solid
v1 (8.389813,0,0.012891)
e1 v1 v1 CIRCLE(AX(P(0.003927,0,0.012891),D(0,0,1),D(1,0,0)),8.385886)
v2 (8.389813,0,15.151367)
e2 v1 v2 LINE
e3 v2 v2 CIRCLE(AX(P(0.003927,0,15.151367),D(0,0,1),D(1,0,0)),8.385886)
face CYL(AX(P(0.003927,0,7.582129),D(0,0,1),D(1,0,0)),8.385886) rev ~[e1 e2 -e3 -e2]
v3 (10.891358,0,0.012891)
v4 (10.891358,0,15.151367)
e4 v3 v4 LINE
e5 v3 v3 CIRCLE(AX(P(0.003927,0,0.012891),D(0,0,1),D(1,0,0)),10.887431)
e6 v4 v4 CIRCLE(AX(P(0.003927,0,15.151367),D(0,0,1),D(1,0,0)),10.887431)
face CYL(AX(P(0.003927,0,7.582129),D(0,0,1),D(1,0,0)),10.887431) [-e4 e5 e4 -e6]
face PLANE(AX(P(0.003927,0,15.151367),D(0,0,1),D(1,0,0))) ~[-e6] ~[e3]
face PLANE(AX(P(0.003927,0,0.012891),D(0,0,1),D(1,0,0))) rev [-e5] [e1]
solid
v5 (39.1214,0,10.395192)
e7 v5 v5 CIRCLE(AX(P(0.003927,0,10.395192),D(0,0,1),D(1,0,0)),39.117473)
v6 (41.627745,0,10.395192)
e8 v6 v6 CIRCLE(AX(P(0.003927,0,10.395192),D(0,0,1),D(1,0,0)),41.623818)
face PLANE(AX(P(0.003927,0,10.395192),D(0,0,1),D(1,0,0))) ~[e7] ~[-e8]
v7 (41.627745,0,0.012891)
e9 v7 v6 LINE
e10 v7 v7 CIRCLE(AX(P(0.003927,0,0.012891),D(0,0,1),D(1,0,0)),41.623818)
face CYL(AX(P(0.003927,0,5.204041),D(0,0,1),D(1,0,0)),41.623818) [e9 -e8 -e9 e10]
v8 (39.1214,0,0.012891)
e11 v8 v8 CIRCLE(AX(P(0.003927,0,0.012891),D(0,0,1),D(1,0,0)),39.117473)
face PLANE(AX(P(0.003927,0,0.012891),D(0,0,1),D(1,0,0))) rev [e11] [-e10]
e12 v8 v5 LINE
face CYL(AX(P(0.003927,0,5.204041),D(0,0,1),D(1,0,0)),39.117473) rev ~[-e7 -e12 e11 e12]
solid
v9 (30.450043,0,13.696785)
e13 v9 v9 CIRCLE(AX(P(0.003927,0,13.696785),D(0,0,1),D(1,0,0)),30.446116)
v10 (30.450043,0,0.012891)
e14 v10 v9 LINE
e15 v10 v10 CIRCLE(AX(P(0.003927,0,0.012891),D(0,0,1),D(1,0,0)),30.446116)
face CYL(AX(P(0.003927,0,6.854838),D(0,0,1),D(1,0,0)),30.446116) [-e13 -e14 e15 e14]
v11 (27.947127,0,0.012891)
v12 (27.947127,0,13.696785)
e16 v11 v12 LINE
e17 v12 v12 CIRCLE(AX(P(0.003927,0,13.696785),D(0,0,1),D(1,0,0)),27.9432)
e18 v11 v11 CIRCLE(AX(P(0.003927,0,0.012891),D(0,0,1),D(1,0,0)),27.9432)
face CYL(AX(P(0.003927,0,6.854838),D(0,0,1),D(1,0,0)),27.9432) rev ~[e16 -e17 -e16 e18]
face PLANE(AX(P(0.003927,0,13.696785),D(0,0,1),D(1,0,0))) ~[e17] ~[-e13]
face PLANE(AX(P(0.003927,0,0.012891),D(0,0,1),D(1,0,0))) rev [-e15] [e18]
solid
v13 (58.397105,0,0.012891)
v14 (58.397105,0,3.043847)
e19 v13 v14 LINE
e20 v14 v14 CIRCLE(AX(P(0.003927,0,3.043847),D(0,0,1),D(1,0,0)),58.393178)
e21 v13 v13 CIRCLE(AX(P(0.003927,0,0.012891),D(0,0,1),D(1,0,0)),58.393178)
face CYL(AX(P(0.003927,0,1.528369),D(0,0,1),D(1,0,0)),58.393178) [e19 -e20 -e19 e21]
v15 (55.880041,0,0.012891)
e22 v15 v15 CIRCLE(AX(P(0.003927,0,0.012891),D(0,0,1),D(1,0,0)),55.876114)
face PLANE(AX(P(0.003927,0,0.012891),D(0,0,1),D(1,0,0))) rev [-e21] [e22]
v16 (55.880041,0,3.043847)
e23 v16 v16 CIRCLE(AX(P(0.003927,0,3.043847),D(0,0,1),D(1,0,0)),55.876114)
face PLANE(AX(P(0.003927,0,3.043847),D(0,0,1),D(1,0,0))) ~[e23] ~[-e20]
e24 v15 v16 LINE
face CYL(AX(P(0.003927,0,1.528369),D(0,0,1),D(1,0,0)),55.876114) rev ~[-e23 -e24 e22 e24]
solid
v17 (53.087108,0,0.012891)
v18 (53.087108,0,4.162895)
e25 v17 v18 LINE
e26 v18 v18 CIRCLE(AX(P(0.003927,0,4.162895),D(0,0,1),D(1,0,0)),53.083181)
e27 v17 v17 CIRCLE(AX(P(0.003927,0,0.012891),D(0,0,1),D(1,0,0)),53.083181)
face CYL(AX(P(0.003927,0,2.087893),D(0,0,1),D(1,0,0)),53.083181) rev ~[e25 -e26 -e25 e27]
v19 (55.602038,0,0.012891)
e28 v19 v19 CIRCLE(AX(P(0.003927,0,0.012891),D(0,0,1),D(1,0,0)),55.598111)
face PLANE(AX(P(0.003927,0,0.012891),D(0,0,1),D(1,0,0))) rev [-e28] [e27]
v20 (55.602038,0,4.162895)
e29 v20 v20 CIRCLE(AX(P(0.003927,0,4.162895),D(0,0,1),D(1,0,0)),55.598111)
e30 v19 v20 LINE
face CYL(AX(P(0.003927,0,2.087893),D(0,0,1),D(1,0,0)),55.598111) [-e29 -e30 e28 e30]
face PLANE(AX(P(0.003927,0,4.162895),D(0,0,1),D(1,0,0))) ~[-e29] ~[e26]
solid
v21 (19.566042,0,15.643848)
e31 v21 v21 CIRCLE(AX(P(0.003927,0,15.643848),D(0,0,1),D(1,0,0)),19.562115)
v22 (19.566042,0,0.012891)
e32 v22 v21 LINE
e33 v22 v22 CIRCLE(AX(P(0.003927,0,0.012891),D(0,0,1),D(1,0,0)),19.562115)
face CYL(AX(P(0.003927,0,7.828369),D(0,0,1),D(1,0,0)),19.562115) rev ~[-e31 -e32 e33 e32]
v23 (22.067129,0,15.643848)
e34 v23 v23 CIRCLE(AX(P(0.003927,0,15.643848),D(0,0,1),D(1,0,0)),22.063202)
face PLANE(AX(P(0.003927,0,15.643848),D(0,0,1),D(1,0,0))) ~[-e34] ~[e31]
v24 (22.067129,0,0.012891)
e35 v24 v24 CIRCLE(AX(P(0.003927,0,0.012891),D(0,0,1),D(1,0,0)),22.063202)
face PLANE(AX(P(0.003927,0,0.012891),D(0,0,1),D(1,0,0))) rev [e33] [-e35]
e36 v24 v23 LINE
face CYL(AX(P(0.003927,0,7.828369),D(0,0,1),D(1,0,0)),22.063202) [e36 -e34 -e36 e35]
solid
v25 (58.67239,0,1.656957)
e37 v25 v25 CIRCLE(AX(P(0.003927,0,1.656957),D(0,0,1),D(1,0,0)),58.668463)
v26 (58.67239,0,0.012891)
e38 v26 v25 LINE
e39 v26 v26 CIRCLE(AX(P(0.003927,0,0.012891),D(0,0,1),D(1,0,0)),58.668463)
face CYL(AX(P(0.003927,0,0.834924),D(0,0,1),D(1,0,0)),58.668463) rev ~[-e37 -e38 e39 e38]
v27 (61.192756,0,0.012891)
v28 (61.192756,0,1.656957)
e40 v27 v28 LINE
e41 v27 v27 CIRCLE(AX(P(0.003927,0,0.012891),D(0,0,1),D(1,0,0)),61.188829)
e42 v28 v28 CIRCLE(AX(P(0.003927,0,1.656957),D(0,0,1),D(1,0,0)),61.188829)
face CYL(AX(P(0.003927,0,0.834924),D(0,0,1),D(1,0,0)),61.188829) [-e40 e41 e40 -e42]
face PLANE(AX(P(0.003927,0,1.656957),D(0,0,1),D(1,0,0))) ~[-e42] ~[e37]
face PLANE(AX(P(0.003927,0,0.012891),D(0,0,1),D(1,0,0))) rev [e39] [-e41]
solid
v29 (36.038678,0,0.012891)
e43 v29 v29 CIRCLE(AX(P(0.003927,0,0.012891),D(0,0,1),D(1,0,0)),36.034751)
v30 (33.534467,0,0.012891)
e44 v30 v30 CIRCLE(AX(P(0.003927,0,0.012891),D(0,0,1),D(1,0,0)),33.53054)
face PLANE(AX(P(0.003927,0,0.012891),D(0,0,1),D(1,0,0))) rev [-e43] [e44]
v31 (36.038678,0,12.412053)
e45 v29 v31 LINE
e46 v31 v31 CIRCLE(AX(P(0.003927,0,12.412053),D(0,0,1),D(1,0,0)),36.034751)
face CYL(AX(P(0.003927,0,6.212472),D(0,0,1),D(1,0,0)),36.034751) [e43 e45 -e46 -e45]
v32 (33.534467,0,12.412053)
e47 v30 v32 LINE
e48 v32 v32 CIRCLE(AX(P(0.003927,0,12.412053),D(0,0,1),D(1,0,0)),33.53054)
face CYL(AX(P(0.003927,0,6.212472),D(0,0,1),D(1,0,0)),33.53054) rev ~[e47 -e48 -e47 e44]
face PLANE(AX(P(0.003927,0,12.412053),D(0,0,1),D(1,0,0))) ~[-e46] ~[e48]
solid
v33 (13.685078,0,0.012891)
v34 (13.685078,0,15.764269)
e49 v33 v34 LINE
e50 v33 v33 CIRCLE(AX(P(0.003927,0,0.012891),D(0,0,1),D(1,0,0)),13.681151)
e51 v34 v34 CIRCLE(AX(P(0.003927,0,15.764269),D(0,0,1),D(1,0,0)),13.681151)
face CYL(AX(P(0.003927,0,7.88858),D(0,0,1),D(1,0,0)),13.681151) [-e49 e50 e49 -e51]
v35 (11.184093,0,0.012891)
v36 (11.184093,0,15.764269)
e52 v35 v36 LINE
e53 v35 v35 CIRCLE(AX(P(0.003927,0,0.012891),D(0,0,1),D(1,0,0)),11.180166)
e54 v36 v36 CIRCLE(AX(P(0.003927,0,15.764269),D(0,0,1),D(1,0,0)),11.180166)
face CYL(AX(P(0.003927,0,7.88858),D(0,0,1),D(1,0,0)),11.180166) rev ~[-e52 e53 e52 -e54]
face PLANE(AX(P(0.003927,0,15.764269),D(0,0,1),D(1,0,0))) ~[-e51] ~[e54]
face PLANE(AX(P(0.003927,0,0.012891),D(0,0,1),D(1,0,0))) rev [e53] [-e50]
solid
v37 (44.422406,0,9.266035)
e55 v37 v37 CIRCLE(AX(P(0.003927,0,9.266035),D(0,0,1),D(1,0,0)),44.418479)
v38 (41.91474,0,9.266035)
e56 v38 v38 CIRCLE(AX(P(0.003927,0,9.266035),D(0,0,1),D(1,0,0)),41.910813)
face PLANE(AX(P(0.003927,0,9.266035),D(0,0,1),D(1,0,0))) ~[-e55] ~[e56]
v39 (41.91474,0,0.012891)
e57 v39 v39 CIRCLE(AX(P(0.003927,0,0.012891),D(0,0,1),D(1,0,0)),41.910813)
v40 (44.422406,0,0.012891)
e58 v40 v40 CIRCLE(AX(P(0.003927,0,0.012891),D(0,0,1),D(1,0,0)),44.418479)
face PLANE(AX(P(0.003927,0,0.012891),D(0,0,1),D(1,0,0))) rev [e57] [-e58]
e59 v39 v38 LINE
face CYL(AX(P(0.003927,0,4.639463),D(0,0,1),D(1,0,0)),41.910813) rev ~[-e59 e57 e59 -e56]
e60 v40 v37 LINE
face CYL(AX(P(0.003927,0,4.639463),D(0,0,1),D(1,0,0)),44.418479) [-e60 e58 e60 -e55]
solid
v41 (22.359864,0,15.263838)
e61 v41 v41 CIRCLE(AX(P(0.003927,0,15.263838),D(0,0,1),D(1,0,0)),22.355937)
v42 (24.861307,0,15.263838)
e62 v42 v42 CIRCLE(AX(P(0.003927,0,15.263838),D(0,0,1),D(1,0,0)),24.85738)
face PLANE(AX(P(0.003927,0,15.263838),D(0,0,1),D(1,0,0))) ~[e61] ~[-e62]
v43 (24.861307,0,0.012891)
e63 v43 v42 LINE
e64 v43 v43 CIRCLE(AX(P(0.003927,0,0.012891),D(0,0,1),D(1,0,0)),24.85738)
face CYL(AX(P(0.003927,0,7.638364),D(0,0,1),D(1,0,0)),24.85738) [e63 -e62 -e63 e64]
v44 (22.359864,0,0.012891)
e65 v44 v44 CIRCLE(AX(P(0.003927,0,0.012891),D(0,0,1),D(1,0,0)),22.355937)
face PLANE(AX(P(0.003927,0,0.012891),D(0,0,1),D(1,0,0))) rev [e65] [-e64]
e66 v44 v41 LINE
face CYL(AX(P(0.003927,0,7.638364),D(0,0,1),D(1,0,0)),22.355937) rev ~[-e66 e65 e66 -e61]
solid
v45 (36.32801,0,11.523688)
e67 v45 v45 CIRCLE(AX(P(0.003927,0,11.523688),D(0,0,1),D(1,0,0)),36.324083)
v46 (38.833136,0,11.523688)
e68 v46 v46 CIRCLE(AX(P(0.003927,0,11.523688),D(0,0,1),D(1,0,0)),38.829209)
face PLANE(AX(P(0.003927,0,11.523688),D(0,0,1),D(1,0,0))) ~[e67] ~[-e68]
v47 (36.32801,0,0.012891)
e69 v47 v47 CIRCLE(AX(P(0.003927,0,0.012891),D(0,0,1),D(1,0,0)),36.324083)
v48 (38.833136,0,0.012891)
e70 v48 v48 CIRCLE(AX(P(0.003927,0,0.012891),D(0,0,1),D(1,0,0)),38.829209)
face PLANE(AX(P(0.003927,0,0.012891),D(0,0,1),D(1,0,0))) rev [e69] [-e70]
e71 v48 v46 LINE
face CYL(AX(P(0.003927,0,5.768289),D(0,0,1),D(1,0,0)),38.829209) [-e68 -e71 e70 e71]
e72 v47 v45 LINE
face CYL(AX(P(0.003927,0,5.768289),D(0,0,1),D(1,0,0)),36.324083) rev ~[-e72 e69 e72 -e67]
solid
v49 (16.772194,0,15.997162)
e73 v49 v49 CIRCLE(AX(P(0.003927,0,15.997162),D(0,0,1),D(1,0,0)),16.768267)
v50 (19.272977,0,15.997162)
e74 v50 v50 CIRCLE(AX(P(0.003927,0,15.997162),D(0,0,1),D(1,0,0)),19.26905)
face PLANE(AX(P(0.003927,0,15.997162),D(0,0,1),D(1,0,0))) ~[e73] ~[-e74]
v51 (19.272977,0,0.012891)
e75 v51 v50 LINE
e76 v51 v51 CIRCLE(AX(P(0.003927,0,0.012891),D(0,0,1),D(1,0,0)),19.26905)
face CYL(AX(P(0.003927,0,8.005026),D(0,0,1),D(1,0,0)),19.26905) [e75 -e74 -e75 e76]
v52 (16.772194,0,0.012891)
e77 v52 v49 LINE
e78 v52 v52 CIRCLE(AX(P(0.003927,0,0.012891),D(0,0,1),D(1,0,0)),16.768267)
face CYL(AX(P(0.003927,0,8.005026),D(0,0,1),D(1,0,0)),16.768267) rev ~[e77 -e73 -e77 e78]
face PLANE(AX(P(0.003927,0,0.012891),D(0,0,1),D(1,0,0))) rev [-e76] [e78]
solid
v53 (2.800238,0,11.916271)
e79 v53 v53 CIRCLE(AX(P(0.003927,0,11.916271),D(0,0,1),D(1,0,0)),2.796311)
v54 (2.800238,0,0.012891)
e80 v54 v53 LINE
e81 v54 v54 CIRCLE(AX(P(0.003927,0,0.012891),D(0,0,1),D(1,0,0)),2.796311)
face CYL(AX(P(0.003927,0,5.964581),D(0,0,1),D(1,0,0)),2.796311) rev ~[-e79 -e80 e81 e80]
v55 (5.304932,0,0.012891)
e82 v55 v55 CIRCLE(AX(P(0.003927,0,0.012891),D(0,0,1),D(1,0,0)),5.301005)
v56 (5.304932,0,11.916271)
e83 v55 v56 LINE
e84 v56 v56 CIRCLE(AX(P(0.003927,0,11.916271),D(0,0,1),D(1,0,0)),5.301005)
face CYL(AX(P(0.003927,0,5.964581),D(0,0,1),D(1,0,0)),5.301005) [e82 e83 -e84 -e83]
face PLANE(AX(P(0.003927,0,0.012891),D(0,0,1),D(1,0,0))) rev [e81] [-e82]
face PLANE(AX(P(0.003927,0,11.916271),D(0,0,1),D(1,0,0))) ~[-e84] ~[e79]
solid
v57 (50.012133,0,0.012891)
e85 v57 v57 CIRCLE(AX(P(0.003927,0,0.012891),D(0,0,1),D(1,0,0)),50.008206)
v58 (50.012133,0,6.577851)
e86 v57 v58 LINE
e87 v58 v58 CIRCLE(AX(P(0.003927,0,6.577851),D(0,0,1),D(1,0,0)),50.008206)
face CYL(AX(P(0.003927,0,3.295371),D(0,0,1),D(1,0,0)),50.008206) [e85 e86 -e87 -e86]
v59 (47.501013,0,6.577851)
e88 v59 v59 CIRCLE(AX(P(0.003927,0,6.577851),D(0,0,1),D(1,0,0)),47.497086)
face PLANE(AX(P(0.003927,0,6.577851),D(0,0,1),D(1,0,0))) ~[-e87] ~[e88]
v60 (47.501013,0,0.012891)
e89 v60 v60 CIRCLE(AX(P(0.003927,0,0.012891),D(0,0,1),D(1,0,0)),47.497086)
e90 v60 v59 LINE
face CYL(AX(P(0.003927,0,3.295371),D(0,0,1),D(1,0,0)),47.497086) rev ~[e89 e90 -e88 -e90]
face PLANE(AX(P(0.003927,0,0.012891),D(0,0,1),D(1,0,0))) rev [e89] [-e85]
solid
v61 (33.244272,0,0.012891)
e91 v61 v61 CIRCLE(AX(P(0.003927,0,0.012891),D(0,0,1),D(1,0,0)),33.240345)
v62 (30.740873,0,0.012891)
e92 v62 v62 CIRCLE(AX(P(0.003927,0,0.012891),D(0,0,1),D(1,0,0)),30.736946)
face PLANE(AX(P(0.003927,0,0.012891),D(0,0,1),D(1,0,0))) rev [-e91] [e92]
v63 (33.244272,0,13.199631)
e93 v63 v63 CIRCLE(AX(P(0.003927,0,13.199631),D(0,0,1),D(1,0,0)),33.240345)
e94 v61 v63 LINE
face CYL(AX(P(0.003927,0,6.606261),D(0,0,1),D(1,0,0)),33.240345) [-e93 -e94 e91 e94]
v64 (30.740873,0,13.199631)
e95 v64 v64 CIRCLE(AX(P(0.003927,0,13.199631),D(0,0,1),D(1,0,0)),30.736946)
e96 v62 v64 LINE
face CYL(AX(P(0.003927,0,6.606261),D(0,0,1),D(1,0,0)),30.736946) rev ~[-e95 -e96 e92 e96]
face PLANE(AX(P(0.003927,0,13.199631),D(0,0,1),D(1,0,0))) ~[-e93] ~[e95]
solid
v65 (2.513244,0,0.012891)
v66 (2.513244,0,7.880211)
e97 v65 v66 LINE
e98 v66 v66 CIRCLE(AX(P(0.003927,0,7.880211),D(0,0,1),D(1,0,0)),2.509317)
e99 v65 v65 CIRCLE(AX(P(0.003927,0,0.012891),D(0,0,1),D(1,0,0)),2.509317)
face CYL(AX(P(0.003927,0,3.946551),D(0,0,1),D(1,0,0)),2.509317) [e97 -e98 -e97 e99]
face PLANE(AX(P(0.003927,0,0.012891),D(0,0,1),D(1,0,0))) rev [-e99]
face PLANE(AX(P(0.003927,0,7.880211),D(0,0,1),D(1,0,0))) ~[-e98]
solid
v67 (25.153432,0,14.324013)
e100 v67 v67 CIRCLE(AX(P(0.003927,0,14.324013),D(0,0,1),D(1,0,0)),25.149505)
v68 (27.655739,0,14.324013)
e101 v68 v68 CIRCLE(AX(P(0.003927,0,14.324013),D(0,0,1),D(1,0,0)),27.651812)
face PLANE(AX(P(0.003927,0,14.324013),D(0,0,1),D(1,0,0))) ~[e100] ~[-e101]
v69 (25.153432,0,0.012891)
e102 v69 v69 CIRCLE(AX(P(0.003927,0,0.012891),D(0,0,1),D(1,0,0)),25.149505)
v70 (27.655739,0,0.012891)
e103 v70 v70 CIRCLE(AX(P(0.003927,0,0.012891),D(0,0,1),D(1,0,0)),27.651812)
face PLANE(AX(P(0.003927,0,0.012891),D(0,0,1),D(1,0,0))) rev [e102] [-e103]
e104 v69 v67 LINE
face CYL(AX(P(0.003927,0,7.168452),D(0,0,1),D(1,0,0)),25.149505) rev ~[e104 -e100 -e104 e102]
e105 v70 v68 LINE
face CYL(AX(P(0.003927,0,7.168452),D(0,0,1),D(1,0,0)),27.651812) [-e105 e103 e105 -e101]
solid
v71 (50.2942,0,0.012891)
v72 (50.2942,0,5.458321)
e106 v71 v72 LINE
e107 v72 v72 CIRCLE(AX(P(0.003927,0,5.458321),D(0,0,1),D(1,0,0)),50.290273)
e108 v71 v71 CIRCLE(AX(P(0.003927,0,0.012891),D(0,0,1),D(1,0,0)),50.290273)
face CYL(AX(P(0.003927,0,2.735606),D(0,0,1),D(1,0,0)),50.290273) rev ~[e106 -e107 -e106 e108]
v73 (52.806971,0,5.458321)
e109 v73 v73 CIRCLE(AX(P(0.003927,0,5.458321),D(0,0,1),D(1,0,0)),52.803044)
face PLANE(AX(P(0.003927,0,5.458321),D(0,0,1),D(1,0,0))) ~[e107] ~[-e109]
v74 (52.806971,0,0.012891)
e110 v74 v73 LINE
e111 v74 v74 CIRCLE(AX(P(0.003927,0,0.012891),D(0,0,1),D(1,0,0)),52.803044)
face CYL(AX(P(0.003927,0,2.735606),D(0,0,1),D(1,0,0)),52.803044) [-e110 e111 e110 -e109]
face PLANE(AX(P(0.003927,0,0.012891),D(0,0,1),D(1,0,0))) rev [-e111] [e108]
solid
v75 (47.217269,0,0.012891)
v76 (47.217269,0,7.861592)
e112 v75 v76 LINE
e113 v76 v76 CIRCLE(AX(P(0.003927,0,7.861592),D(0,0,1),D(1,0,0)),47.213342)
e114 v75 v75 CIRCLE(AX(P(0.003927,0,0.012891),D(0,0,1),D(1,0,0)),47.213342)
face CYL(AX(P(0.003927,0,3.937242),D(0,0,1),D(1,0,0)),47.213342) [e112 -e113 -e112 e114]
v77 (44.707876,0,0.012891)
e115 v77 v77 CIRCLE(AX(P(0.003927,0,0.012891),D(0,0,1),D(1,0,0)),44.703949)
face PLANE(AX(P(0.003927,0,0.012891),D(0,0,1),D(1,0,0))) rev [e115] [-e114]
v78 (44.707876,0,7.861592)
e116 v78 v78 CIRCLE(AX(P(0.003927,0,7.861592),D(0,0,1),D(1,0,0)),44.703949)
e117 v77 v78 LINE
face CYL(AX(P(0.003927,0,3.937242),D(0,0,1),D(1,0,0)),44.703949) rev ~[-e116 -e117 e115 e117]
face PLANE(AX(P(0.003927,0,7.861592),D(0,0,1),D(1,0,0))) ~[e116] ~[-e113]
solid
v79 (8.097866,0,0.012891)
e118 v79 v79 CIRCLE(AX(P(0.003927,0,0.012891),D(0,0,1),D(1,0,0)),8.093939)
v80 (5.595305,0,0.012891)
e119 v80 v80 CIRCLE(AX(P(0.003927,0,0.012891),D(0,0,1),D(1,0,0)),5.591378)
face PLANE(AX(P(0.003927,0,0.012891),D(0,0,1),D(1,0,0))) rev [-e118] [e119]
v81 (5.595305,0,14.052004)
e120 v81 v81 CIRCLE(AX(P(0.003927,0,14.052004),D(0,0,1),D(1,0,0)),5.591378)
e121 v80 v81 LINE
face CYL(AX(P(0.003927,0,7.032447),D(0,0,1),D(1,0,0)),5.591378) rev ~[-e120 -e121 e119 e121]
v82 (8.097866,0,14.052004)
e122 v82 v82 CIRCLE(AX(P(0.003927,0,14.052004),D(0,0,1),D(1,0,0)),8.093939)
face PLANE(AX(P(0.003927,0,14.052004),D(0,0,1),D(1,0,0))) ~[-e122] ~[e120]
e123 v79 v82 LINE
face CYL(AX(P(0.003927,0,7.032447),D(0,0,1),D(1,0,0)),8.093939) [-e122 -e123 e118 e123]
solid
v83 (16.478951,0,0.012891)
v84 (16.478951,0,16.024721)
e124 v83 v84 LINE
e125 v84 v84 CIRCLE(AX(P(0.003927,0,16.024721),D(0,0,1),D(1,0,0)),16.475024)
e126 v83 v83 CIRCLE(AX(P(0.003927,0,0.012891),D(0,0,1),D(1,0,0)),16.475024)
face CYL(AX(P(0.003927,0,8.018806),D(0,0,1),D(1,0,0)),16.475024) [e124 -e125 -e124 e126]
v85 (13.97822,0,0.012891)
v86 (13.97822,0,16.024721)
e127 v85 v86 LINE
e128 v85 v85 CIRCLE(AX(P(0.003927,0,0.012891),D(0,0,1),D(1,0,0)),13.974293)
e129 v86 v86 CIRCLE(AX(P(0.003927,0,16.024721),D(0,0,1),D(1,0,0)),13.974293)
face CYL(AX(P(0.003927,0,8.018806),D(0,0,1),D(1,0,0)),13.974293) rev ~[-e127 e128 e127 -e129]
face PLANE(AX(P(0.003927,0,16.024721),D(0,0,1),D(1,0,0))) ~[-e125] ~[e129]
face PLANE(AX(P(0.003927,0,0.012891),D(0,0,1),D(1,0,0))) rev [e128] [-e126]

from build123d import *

# Parameters (mm, degrees)
F0_W    = 2.5093168
F0_H    = 7.8673198
F0_W_2  = 2.504694
F0_H_2  = 11.9033798
F0_W_3  = 2.5025604
F0_H_3  = 14.0391134
F0_W_4  = 2.5015444
F0_H_4  = 15.1384762
F0_W_5  = 2.5009856
F0_H_5  = 15.7513782
F0_W_6  = 2.5007316
F0_H_6  = 16.0118298
F0_W_7  = 2.5007824
F0_H_7  = 15.9842708
F0_W_8  = 2.5010872
F0_H_8  = 15.6309568
F0_W_9  = 2.5014428
F0_H_9  = 15.2509474
F0_W_10 = 2.5023064
F0_H_10 = 14.311122
F0_W_11 = 2.502916
F0_H_11 = 13.6838944
F0_W_12 = 2.5033986
F0_H_12 = 13.1867402
F0_W_13 = 2.5042114
F0_H_13 = 12.3991624
F0_W_14 = 2.5051258
F0_H_14 = 11.5107974
F0_W_15 = 2.506345
F0_H_15 = 10.3823008
F0_W_16 = 2.5076658
F0_H_16 = 9.2531438
F0_W_17 = 2.509393
F0_H_17 = 7.8487016
F0_W_18 = 2.5111202
F0_H_18 = 6.5649602
F0_W_19 = 2.5127712
F0_H_19 = 5.4454298
F0_W_20 = 2.5149302
F0_H_20 = 4.1500044
F0_W_21 = 2.5170638
F0_H_21 = 3.0309566
F0_W_22 = 2.5203658
F0_H_22 = 1.6440658


with BuildPart() as f1:
    # F0 (on Front) → F1 (revolve)
    with BuildSketch(Plane.XZ):
        with Locations((1.2585853584, 3.9465506561)):
            Rectangle(F0_W, F0_H)
    revolve(axis=Axis((0.0039269584, 0, 14.6686907561), (0, 0, 1)))


with BuildPart() as f1b:
    # F0 (on Front) → F1, piece 2 (revolve)
    with BuildSketch(Plane.XZ):
        with Locations((4.0525853584, 5.9645806561)):
            Rectangle(F0_W_2, F0_H_2)
    revolve(axis=Axis((0.0039269584, 0, 14.6686907561), (0, 0, 1)))


with BuildPart() as f1c:
    # F0 (on Front) → F1, piece 3 (revolve)
    with BuildSketch(Plane.XZ):
        with Locations((6.8465853584, 7.0324474561)):
            Rectangle(F0_W_3, F0_H_3)
    revolve(axis=Axis((0.0039269584, 0, 14.6686907561), (0, 0, 1)))


with BuildPart() as f1d:
    # F0 (on Front) → F1, piece 4 (revolve)
    with BuildSketch(Plane.XZ):
        with Locations((9.6405853584, 7.5821288561)):
            Rectangle(F0_W_4, F0_H_4)
    revolve(axis=Axis((0.0039269584, 0, 14.6686907561), (0, 0, 1)))


with BuildPart() as f1e:
    # F0 (on Front) → F1, piece 5 (revolve)
    with BuildSketch(Plane.XZ):
        with Locations((12.4345853584, 7.8885798561)):
            Rectangle(F0_W_5, F0_H_5)
    revolve(axis=Axis((0.0039269584, 0, 14.6686907561), (0, 0, 1)))


with BuildPart() as f1f:
    # F0 (on Front) → F1, piece 6 (revolve)
    with BuildSketch(Plane.XZ):
        with Locations((15.2285853584, 8.0188056561)):
            Rectangle(F0_W_6, F0_H_6)
    revolve(axis=Axis((0.0039269584, 0, 14.6686907561), (0, 0, 1)))


with BuildPart() as f1g:
    # F0 (on Front) → F1, piece 7 (revolve)
    with BuildSketch(Plane.XZ):
        with Locations((18.0225853584, 8.0050261561)):
            Rectangle(F0_W_7, F0_H_7)
    revolve(axis=Axis((0.0039269584, 0, 14.6686907561), (0, 0, 1)))


with BuildPart() as f1h:
    # F0 (on Front) → F1, piece 8 (revolve)
    with BuildSketch(Plane.XZ):
        with Locations((20.8165853584, 7.8283691561)):
            Rectangle(F0_W_8, F0_H_8)
    revolve(axis=Axis((0.0039269584, 0, 14.6686907561), (0, 0, 1)))


with BuildPart() as f1i:
    # F0 (on Front) → F1, piece 9 (revolve)
    with BuildSketch(Plane.XZ):
        with Locations((23.6105853584, 7.6383644561)):
            Rectangle(F0_W_9, F0_H_9)
    revolve(axis=Axis((0.0039269584, 0, 14.6686907561), (0, 0, 1)))


with BuildPart() as f1j:
    # F0 (on Front) → F1, piece 10 (revolve)
    with BuildSketch(Plane.XZ):
        with Locations((26.4045853584, 7.1684517561)):
            Rectangle(F0_W_10, F0_H_10)
    revolve(axis=Axis((0.0039269584, 0, 14.6686907561), (0, 0, 1)))


with BuildPart() as f1k:
    # F0 (on Front) → F1, piece 11 (revolve)
    with BuildSketch(Plane.XZ):
        with Locations((29.1985853584, 6.8548379561)):
            Rectangle(F0_W_11, F0_H_11)
    revolve(axis=Axis((0.0039269584, 0, 14.6686907561), (0, 0, 1)))


with BuildPart() as f1l:
    # F0 (on Front) → F1, piece 12 (revolve)
    with BuildSketch(Plane.XZ):
        with Locations((31.9925726584, 6.6062608561)):
            Rectangle(F0_W_12, F0_H_12)
    revolve(axis=Axis((0.0039269584, 0, 14.6686907561), (0, 0, 1)))


with BuildPart() as f1m:
    # F0 (on Front) → F1, piece 13 (revolve)
    with BuildSketch(Plane.XZ):
        with Locations((34.7865726584, 6.2124719561)):
            Rectangle(F0_W_13, F0_H_13)
    revolve(axis=Axis((0.0039269584, 0, 14.6686907561), (0, 0, 1)))


with BuildPart() as f1n:
    # F0 (on Front) → F1, piece 14 (revolve)
    with BuildSketch(Plane.XZ):
        with Locations((37.5805726584, 5.7682894561)):
            Rectangle(F0_W_14, F0_H_14)
    revolve(axis=Axis((0.0039269584, 0, 14.6686907561), (0, 0, 1)))


with BuildPart() as f1o:
    # F0 (on Front) → F1, piece 15 (revolve)
    with BuildSketch(Plane.XZ):
        with Locations((40.3745726584, 5.2040411561)):
            Rectangle(F0_W_15, F0_H_15)
    revolve(axis=Axis((0.0039269584, 0, 14.6686907561), (0, 0, 1)))


with BuildPart() as f1p:
    # F0 (on Front) → F1, piece 16 (revolve)
    with BuildSketch(Plane.XZ):
        with Locations((43.1685726584, 4.6394626561)):
            Rectangle(F0_W_16, F0_H_16)
    revolve(axis=Axis((0.0039269584, 0, 14.6686907561), (0, 0, 1)))


with BuildPart() as f1q:
    # F0 (on Front) → F1, piece 17 (revolve)
    with BuildSketch(Plane.XZ):
        with Locations((45.9625726584, 3.9372415561)):
            Rectangle(F0_W_17, F0_H_17)
    revolve(axis=Axis((0.0039269584, 0, 14.6686907561), (0, 0, 1)))


with BuildPart() as f1r:
    # F0 (on Front) → F1, piece 18 (revolve)
    with BuildSketch(Plane.XZ):
        with Locations((48.7565726584, 3.2953708561)):
            Rectangle(F0_W_18, F0_H_18)
    revolve(axis=Axis((0.0039269584, 0, 14.6686907561), (0, 0, 1)))


with BuildPart() as f1s:
    # F0 (on Front) → F1, piece 19 (revolve)
    with BuildSketch(Plane.XZ):
        with Locations((51.5505853584, 2.7356056561)):
            Rectangle(F0_W_19, F0_H_19)
    revolve(axis=Axis((0.0039269584, 0, 14.6686907561), (0, 0, 1)))


with BuildPart() as f1t:
    # F0 (on Front) → F1, piece 20 (revolve)
    with BuildSketch(Plane.XZ):
        with Locations((54.3445726584, 2.0878929561)):
            Rectangle(F0_W_20, F0_H_20)
    revolve(axis=Axis((0.0039269584, 0, 14.6686907561), (0, 0, 1)))


with BuildPart() as f1u:
    # F0 (on Front) → F1, piece 21 (revolve)
    with BuildSketch(Plane.XZ):
        with Locations((57.1385726584, 1.5283690561)):
            Rectangle(F0_W_21, F0_H_21)
    revolve(axis=Axis((0.0039269584, 0, 14.6686907561), (0, 0, 1)))


with BuildPart() as f1v:
    # F0 (on Front) → F1, piece 22 (revolve)
    with BuildSketch(Plane.XZ):
        with Locations((59.9325726584, 0.8349236561)):
            Rectangle(F0_W_22, F0_H_22)
    revolve(axis=Axis((0.0039269584, 0, 14.6686907561), (0, 0, 1)))


solid = Compound([f1.part, f1b.part, f1c.part, f1d.part, f1e.part, f1f.part, f1g.part, f1h.part, f1i.part, f1j.part, f1k.part, f1l.part, f1m.part, f1n.part, f1o.part, f1p.part, f1q.part, f1r.part, f1s.part, f1t.part, f1u.part, f1v.part])
